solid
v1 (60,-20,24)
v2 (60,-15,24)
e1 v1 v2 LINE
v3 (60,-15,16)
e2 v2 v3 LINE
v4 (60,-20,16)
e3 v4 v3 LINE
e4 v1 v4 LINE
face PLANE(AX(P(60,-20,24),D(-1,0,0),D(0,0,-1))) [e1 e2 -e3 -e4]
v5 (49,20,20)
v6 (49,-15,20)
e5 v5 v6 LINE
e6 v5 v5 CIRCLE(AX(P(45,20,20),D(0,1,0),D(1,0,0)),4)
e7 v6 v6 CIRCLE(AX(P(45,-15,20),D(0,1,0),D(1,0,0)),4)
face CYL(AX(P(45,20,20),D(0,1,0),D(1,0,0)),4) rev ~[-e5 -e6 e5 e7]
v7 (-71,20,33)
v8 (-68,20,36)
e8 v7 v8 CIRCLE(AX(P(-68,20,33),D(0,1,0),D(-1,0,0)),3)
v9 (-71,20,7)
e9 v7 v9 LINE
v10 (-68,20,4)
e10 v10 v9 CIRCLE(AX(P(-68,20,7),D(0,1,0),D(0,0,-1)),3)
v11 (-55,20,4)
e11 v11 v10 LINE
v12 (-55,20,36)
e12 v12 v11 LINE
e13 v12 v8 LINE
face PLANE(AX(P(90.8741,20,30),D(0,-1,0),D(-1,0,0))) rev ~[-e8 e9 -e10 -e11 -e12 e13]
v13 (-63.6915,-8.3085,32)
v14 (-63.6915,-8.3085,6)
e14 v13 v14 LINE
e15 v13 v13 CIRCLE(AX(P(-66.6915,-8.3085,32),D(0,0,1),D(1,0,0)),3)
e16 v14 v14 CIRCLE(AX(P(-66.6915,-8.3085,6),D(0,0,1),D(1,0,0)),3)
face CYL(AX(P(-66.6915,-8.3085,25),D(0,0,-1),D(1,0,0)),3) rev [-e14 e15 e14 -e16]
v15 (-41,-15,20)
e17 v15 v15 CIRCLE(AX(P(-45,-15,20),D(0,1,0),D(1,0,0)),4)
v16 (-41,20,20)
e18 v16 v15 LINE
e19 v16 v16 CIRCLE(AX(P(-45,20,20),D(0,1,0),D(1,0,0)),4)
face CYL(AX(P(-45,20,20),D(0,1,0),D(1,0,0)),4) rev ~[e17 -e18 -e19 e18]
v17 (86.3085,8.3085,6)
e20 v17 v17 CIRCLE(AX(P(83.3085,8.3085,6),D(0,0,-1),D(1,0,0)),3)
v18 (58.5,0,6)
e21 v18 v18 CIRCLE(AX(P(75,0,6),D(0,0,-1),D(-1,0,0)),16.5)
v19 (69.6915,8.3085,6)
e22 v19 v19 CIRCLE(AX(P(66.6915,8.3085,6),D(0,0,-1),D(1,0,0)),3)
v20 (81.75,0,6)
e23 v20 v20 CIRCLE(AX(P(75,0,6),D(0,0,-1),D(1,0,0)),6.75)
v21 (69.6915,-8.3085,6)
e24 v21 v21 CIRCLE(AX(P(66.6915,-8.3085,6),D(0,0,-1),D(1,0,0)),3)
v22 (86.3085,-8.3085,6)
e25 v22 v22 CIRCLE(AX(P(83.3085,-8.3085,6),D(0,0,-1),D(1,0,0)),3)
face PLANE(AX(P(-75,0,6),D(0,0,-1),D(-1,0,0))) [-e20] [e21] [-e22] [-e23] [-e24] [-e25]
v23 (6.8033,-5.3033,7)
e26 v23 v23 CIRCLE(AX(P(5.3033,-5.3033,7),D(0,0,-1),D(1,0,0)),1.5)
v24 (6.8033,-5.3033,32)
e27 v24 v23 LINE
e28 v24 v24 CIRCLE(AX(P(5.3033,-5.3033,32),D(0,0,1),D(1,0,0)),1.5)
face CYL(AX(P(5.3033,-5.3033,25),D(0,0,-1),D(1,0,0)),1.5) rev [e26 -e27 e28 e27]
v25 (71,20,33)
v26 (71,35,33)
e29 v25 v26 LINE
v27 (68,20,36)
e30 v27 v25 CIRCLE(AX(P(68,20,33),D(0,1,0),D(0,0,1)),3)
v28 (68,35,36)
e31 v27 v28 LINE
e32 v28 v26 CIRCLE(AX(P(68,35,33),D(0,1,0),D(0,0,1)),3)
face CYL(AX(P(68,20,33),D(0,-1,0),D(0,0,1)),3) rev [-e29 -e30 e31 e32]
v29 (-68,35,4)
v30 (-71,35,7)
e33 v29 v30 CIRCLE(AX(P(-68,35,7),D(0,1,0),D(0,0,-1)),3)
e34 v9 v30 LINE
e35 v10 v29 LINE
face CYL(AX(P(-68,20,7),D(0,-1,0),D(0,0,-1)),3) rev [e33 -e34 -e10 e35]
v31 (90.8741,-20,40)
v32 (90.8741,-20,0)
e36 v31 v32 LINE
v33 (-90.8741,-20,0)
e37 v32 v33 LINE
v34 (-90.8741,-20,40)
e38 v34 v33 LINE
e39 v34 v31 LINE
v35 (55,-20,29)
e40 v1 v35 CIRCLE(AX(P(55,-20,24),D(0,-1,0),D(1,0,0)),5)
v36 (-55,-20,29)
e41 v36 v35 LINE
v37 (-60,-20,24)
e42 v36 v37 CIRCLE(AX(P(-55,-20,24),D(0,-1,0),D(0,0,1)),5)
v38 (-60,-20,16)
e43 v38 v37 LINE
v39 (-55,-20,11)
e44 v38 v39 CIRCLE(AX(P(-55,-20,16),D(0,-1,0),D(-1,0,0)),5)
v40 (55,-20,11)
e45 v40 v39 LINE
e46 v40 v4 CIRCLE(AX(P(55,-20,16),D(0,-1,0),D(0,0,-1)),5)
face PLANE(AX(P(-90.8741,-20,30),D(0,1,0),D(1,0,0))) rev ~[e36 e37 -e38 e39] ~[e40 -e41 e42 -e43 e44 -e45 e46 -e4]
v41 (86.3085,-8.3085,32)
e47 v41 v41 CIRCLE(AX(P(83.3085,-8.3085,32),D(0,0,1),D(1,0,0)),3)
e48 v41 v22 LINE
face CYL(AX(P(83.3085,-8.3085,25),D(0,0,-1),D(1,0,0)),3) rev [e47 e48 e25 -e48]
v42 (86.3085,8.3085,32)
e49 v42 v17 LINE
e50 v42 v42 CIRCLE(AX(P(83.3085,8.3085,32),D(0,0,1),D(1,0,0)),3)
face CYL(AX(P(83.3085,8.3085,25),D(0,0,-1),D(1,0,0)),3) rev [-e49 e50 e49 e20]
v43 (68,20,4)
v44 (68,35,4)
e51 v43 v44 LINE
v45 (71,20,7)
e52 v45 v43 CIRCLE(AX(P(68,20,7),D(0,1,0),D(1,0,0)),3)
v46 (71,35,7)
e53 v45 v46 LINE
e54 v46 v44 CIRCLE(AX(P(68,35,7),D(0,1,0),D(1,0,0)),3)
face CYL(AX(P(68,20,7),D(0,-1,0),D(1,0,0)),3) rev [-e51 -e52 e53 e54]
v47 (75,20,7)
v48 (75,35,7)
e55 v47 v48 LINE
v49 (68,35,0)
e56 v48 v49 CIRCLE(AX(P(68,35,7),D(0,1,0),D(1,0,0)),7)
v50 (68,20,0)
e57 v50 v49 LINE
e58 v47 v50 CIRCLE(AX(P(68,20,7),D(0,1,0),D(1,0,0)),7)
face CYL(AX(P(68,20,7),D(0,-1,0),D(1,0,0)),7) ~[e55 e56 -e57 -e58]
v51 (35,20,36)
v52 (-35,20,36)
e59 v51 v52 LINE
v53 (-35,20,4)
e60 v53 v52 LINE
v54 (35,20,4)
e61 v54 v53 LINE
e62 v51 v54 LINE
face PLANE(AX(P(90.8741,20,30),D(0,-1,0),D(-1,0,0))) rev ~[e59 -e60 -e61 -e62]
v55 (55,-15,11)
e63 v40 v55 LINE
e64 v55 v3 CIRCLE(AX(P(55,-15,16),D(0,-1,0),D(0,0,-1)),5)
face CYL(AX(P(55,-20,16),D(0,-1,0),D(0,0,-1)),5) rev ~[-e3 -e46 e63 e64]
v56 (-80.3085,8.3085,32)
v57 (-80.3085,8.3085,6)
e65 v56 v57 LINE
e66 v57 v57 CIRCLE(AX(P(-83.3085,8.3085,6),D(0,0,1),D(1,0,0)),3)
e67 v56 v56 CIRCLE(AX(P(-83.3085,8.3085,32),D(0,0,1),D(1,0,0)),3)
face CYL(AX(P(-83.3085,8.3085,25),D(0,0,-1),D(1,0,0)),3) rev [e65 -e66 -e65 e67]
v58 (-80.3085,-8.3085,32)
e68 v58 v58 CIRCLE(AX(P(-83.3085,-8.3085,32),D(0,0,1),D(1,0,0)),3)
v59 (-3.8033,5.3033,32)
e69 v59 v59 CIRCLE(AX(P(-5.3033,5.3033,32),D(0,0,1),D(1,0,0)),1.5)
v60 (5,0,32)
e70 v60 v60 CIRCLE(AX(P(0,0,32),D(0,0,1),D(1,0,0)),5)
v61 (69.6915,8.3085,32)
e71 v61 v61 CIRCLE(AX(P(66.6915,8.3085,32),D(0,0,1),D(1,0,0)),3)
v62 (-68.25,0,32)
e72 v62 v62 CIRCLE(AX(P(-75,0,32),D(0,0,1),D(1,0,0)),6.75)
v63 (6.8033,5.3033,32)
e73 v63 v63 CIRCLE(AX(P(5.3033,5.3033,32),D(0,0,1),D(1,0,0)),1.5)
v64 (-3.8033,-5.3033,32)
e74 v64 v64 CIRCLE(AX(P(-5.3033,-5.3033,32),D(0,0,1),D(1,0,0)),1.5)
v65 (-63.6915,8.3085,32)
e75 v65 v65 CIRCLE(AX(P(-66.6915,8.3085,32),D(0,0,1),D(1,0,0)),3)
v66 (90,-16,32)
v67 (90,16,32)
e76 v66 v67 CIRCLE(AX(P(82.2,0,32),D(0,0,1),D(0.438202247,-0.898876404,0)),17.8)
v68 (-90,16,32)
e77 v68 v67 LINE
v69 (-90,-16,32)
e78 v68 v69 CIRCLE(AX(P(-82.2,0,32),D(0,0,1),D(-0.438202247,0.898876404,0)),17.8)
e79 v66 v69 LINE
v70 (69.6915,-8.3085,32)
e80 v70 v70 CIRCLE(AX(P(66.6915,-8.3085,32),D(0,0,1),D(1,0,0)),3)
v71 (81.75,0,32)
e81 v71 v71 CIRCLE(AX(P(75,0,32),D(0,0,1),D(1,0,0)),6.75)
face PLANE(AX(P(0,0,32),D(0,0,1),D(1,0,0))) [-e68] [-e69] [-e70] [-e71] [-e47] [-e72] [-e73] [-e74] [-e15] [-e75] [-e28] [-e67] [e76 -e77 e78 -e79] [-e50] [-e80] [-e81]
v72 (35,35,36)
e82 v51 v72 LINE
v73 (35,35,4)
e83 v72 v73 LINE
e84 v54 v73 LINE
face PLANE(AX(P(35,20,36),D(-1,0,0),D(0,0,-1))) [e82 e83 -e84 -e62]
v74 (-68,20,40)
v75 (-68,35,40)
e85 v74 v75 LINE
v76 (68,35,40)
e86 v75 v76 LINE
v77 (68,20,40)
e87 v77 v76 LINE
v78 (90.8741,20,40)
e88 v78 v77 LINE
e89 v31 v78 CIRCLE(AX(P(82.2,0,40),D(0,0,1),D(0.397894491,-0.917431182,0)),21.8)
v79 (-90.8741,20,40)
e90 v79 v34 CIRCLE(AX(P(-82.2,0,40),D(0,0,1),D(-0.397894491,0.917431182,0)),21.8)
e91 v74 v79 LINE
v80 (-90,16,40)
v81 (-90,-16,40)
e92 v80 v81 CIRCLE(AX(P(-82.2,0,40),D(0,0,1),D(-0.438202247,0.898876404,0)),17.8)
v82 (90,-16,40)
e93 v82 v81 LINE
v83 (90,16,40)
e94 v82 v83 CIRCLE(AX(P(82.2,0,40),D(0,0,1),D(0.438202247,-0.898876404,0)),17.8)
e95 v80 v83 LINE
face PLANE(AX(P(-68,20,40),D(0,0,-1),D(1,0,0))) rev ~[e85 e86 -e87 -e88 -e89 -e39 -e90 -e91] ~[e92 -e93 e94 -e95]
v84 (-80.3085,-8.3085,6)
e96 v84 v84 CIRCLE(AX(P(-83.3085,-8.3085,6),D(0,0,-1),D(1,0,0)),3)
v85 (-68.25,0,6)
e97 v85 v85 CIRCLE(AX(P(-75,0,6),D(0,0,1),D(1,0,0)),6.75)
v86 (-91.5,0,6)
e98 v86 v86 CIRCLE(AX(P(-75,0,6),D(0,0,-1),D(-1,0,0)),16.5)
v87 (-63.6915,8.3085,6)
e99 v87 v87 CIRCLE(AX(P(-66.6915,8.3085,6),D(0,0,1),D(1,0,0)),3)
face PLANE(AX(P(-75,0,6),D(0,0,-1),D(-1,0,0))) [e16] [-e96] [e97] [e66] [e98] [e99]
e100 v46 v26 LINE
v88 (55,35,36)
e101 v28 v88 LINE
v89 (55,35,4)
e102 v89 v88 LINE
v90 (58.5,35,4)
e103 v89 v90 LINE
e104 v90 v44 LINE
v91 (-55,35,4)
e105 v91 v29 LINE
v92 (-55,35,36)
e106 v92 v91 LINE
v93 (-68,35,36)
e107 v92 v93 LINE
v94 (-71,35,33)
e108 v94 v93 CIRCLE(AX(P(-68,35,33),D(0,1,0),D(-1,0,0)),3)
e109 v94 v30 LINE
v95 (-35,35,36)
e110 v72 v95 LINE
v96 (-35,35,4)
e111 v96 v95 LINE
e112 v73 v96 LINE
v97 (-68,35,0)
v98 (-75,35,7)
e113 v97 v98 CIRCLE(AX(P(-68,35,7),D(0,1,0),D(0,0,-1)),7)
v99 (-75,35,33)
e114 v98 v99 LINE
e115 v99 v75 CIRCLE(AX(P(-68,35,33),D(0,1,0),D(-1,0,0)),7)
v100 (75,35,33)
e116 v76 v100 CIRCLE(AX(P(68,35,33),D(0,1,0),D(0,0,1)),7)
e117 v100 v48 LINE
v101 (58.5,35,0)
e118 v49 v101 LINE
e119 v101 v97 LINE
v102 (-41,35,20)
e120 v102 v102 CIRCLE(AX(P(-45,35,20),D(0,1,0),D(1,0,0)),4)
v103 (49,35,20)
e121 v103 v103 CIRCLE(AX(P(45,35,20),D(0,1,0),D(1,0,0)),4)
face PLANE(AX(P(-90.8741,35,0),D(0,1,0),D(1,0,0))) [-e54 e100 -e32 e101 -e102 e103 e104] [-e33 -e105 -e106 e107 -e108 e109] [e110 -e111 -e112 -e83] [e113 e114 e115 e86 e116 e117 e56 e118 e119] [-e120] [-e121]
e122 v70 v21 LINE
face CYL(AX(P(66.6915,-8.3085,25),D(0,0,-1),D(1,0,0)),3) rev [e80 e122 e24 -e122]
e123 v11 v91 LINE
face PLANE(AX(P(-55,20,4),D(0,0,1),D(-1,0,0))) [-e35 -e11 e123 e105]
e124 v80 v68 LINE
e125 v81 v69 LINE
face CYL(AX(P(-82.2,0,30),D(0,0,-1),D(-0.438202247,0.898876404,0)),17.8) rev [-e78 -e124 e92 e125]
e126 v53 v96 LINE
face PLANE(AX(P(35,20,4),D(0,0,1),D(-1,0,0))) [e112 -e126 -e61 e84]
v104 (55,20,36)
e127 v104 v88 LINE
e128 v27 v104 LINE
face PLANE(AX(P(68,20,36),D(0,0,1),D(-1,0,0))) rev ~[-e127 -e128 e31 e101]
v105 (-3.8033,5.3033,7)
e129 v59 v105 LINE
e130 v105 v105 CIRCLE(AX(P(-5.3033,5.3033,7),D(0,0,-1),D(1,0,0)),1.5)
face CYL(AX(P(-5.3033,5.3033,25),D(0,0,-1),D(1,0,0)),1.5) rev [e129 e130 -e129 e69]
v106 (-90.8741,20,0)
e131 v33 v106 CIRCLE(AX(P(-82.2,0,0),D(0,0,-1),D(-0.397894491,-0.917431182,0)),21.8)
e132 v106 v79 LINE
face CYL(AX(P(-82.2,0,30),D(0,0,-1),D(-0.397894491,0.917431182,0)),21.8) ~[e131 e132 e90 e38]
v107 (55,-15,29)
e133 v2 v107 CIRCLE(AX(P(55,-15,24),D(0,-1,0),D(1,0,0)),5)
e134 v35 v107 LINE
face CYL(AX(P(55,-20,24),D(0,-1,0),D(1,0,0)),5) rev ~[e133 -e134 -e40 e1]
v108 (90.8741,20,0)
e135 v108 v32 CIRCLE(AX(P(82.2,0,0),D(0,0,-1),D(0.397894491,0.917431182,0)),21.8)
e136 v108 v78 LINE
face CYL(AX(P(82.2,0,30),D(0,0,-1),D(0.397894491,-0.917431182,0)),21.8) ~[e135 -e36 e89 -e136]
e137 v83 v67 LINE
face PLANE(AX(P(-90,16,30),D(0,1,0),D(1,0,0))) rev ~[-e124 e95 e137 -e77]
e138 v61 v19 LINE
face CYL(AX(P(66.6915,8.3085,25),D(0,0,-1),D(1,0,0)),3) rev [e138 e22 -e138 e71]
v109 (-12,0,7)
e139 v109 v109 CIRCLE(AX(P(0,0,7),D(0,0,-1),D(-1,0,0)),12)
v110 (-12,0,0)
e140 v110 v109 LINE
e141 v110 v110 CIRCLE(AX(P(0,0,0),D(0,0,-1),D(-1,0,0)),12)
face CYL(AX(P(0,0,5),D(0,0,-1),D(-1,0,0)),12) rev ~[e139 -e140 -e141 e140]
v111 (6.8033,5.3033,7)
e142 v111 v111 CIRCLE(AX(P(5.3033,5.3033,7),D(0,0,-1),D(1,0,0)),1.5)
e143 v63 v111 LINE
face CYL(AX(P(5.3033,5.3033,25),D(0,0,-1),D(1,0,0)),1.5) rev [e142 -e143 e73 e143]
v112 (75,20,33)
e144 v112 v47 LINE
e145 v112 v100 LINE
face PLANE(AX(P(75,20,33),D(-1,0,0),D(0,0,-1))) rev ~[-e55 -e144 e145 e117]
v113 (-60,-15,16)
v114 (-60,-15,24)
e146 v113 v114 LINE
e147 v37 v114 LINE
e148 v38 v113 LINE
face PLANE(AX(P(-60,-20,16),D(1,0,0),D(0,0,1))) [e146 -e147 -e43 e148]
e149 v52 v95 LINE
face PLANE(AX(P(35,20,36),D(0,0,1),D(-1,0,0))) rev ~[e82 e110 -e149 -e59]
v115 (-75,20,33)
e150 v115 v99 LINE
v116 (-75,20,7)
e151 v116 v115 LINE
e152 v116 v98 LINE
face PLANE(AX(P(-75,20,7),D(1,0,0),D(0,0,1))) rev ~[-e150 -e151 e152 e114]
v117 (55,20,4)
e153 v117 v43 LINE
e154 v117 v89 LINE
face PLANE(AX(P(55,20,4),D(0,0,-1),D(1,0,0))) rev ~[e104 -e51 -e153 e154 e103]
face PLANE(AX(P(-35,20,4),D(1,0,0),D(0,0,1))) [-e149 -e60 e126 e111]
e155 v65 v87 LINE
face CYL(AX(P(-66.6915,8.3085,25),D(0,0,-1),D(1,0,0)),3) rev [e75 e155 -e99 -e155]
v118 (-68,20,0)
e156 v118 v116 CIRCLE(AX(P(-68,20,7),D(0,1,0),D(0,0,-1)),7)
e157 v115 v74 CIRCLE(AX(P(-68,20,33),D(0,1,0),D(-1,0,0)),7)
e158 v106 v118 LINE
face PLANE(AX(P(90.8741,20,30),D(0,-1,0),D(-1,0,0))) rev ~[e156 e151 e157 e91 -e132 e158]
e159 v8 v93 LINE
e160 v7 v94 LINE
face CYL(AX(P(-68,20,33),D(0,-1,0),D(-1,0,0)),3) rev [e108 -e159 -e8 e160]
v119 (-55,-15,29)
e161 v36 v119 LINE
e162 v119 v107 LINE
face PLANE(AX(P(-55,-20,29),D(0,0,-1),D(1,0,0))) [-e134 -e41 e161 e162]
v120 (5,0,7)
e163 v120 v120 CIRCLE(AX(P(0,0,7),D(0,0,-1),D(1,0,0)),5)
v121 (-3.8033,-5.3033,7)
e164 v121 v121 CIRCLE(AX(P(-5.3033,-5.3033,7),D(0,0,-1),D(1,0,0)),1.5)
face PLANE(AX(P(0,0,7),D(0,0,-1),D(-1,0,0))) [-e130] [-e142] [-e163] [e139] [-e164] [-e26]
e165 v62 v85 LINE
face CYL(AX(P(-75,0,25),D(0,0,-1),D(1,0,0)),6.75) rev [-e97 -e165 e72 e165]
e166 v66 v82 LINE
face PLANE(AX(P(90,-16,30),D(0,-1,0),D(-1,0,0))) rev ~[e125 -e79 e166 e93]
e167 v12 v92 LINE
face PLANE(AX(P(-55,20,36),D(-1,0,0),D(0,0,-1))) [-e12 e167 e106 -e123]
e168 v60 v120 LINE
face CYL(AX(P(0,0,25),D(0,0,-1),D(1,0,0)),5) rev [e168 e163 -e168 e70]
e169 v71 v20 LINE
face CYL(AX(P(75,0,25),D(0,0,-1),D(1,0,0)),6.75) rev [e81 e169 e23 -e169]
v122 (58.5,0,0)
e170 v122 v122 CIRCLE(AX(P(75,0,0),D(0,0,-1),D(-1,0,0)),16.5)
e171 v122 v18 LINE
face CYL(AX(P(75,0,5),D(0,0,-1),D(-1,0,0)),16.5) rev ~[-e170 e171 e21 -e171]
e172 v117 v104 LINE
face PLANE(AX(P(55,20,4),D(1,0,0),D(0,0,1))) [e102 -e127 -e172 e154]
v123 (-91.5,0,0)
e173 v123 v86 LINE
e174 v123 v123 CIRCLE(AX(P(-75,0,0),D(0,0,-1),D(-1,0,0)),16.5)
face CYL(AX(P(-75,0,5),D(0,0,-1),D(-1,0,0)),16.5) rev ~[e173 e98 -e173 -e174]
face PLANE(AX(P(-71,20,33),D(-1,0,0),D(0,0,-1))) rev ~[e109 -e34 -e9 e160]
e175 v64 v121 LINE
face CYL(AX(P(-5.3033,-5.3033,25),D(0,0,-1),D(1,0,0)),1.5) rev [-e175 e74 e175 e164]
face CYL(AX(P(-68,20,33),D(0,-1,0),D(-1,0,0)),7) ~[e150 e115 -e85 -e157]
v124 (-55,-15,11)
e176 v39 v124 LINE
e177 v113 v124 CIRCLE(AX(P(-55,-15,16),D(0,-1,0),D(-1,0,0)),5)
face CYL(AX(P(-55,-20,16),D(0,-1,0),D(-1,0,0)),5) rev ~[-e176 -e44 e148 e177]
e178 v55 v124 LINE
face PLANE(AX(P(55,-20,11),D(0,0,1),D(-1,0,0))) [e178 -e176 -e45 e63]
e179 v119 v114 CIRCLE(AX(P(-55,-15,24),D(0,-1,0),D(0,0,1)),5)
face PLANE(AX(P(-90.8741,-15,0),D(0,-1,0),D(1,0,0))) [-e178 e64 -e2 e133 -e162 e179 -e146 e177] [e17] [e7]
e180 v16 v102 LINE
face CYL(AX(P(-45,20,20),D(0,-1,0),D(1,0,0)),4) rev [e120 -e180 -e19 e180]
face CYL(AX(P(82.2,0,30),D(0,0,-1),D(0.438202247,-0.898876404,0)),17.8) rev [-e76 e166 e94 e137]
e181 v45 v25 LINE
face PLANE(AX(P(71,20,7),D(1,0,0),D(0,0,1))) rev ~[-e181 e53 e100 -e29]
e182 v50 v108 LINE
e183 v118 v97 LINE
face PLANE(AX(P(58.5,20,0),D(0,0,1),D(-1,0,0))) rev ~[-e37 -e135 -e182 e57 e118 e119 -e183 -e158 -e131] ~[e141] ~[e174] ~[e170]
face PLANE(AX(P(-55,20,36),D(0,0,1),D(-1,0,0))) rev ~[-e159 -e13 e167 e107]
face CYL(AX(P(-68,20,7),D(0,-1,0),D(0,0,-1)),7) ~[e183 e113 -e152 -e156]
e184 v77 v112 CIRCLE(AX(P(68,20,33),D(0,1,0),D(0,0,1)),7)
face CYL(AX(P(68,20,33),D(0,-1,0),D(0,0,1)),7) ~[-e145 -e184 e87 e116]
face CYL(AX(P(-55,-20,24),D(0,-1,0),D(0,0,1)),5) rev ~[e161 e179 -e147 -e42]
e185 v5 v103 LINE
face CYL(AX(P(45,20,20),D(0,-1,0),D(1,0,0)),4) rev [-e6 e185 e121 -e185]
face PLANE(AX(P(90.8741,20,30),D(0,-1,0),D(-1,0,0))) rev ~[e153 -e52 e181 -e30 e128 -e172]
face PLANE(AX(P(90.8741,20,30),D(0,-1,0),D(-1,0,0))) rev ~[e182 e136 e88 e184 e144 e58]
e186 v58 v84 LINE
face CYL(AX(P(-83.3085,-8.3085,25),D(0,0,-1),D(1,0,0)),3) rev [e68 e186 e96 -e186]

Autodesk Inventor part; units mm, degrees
ref_plane "YZ Plane" through (0, 0, 0) normal (1, 0, 0) x (0, 1, 0)
ref_plane "XZ Plane" through (0, 0, 0) normal (0, 1, 0) x (-1, 0, 0)
ref_plane "XY Plane" through (0, 0, 0) normal (0, 0, 1) x (1, 0, 0)
sketch "Sketch1" plane through (0, 0, 0) normal (0, 0, 1) x (1, 0, 0)
  circle A0 centre (75, 0) radius 15.85 construction
  circle A1 centre (66.6915, 8.3085) radius 3
  circle A2 centre (83.3085, -8.3085) radius 3
  circle A3 centre (66.6915, -8.3085) radius 3
  circle A4 centre (83.3085, 8.3085) radius 3
  circle A5 centre (75, 0) radius 6.75
  circle A6 centre (-75, 0) radius 15.85 construction
  circle A7 centre (-83.3085, 8.3085) radius 3
  circle A8 centre (-66.6915, -8.3085) radius 3
  circle A9 centre (-83.3085, -8.3085) radius 3
  circle A10 centre (-66.6915, 8.3085) radius 3
  circle A11 centre (-75, 0) radius 6.75
  circle A12 centre (5.3033, -5.3033) radius 1.5
  circle A13 centre (-5.3033, 5.3033) radius 1.5
  circle A14 centre (-5.3033, -5.3033) radius 1.5
  circle A15 centre (5.3033, 5.3033) radius 1.5
  circle A16 centre (0, 0) radius 10.75 construction
  circle A17 centre (0, 0) radius 5
  line L0 (100, -16) -> (-100, -16) construction
  line L1 (-100, -16) -> (-100, 16) construction
  line L2 (-100, 16) -> (100, 16) construction
  line L3 (100, 16) -> (100, -16) construction
  line L4 (100, -16) -> (-100, 16) construction
  line L5 (-100, -16) -> (100, 16) construction
  line L6 (0, 16) -> (-90, 16)
  line L7 (0, -16) -> (-90, -16)
  arc A18 (-90, 16) -> (-90, -16) centre (-82.2, 0) ccw
  line L8 (0, 16) -> (90, 16)
  line L9 (0, -16) -> (90, -16)
  arc A19 (90, -16) -> (90, 16) centre (82.2, 0) ccw
  point P0 (0, 0)
  point P1 (75, 0)
  point P2 (-75, 0)
  dimension "d4" = 10
  dimension "d5" = 75
  dimension "d6" = 75
  dimension "d7" = 200
  dimension "d8" = 32
  dimension "d9" = 90
  dimension "d10" = 90
  dimension "d11" = 90
  dimension "d12" = 90
extrude "Extrusion1" add sketch "Sketch1" along normal blind 30
sketch "Sketch2" plane through (0, 0, 0) normal (0, 0, -1) x (-1, 0, 0)
  circle A0 centre (75, 0) radius 6.75 construction
  circle A1 centre (-75, 0) radius 6.75 construction
  circle A2 centre (0, 0) radius 5 construction
  circle A3 centre (66.6915, 8.3085) radius 3 construction
  circle A4 centre (83.3085, -8.3085) radius 3 construction
  circle A5 centre (66.6915, -8.3085) radius 3 construction
  circle A6 centre (83.3085, 8.3085) radius 3 construction
  circle A7 centre (-83.3085, 8.3085) radius 3 construction
  circle A8 centre (-66.6915, -8.3085) radius 3 construction
  circle A9 centre (-83.3085, -8.3085) radius 3 construction
  circle A10 centre (-66.6915, 8.3085) radius 3 construction
  circle A11 centre (-5.3033, 5.3033) radius 1.5 construction
  circle A12 centre (5.3033, -5.3033) radius 1.5 construction
  circle A13 centre (5.3033, 5.3033) radius 1.5 construction
  circle A14 centre (-5.3033, -5.3033) radius 1.5 construction
  line L0 (-90, 16) -> (90, 16) projected
  arc A15 (-90, 16) -> (-90, -16) centre (-82.2, 0) ccw projected
  line L1 (90, -16) -> (-90, -16) projected
  arc A16 (90, -16) -> (90, 16) centre (82.2, 0) ccw projected
  line L2 (90.8741, 20) -> (-90.8741, 20)
  arc A17 (-90.8741, 20) -> (-90.8741, -20) centre (-82.2, 0) ccw
  line L3 (-90.8741, -20) -> (90.8741, -20)
  arc A18 (90.8741, -20) -> (90.8741, 20) centre (82.2, 0) ccw
  dimension "d15" = 4
extrude "Extrusion2" add sketch "Sketch2" against normal blind 30
sketch "Sketch3" plane through (0, 0, 0) normal (0, 0, -1) x (-1, 0, 0)
  line L0 (90.8741, 20) -> (-90.8741, 20) construction
  arc A0 (-90.8741, 20) -> (-90.8741, -20) centre (-82.2, 0) ccw construction
  line L1 (-90.8741, -20) -> (90.8741, -20) construction
  arc A1 (90.8741, -20) -> (90.8741, 20) centre (82.2, 0) ccw construction
  circle A2 centre (75, 0) radius 6.75 construction
  circle A3 centre (-75, 0) radius 6.75 construction
  circle A4 centre (0, 0) radius 5 construction
  circle A5 centre (66.6915, 8.3085) radius 3 construction
  circle A6 centre (83.3085, -8.3085) radius 3 construction
  circle A7 centre (66.6915, -8.3085) radius 3 construction
  circle A8 centre (83.3085, 8.3085) radius 3 construction
  circle A9 centre (-83.3085, 8.3085) radius 3 construction
  circle A10 centre (-66.6915, -8.3085) radius 3 construction
  circle A11 centre (-83.3085, -8.3085) radius 3 construction
  circle A12 centre (-66.6915, 8.3085) radius 3 construction
  circle A13 centre (-5.3033, 5.3033) radius 1.5 construction
  circle A14 centre (5.3033, -5.3033) radius 1.5 construction
  circle A15 centre (5.3033, 5.3033) radius 1.5 construction
  circle A16 centre (-5.3033, -5.3033) radius 1.5 construction
  circle A17 centre (0, 0) radius 12
  circle A18 centre (-75, 0) radius 16.5
  circle A19 centre (75, 0) radius 16.5
  dimension "d18" = 24
  dimension "d19" = 33
  dimension "d20" = 33
extrude "Extrusion3" cut sketch "Sketch3" against normal blind 5
sketch "Sketch4" plane through (0, 0, 30) normal (0, 0, 1) x (1, 0, 0)
  line L0 (90.8741, 20) -> (-90.8741, 20) construction
  arc A0 (-90.8741, 20) -> (-90.8741, -20) centre (-82.2, 0) ccw construction
  line L1 (-90.8741, -20) -> (90.8741, -20) construction
  arc A1 (90.8741, -20) -> (90.8741, 20) centre (82.2, 0) ccw construction
  circle A2 centre (-75, 0) radius 6.75 construction
  circle A3 centre (75, 0) radius 6.75 construction
  circle A4 centre (0, 0) radius 5 construction
  circle A5 centre (-66.6915, 8.3085) radius 3 construction
  circle A6 centre (-83.3085, -8.3085) radius 3 construction
  circle A7 centre (-66.6915, -8.3085) radius 3 construction
  circle A8 centre (-83.3085, 8.3085) radius 3 construction
  circle A9 centre (83.3085, 8.3085) radius 3 construction
  circle A10 centre (66.6915, -8.3085) radius 3 construction
  circle A11 centre (83.3085, -8.3085) radius 3 construction
  circle A12 centre (66.6915, 8.3085) radius 3 construction
  circle A13 centre (5.3033, 5.3033) radius 1.5 construction
  circle A14 centre (-5.3033, -5.3033) radius 1.5 construction
  circle A15 centre (-5.3033, 5.3033) radius 1.5 construction
  circle A16 centre (5.3033, -5.3033) radius 1.5 construction
  line L2 (90, -16) -> (-90, -16)
  arc A17 (-90, 16) -> (-90, -16) centre (-82.2, 0) ccw
  line L3 (-90, 16) -> (90, 16)
  arc A18 (90, -16) -> (90, 16) centre (82.2, 0) ccw
  dimension "d23" = 4
extrude "Extrusion4" cut sketch "Sketch4" against normal blind 5
sketch "Sketch5" plane through (0, 0, 5) normal (0, 0, -1) x (-1, 0, 0)
  circle A0 centre (0, 0) radius 5 projected
  circle A1 centre (-5.3033, 5.3033) radius 1.5 projected
  circle A2 centre (5.3033, -5.3033) radius 1.5 projected
  circle A3 centre (5.3033, 5.3033) radius 1.5 projected
  circle A4 centre (-5.3033, -5.3033) radius 1.5 projected
  circle A5 centre (0, 0) radius 12 projected
extrude "Extrusion5" cut sketch "Sketch5" against normal blind 2
sketch "Sketch6" plane through (-75, 0, 5) normal (0, 0, -1) x (-1, 0, 0)
  circle A0 centre (0, 0) radius 6.75 projected
  circle A1 centre (-8.3085, 8.3085) radius 3 projected
  circle A2 centre (8.3085, -8.3085) radius 3 projected
  circle A3 centre (-8.3085, -8.3085) radius 3 projected
  circle A4 centre (8.3085, 8.3085) radius 3 projected
  circle A5 centre (0, 0) radius 16.5 projected
  circle A6 centre (-150, 0) radius 6.75 projected
  circle A7 centre (-158.3085, 8.3085) radius 3 projected
  circle A8 centre (-141.6915, -8.3085) radius 3 projected
  circle A9 centre (-158.3085, -8.3085) radius 3 projected
  circle A10 centre (-141.6915, 8.3085) radius 3 projected
  circle A11 centre (-150, 0) radius 16.5 projected
  point P0 (-75, 0)
extrude "Extrusion6" cut sketch "Sketch6" against normal blind 1
sketch "Sketch7" plane through (0, 0, 30) normal (0, 0, 1) x (1, 0, 0)
  arc A0 (90, -16) -> (90, 16) centre (82.2, 0) ccw projected
  line L0 (90, -16) -> (-90, -16) projected
  arc A1 (-90, 16) -> (-90, -16) centre (-82.2, 0) ccw projected
  line L1 (-90, 16) -> (90, 16) projected
  line L2 (90.8741, 20) -> (-90.8741, 20) projected
  arc A2 (-90.8741, 20) -> (-90.8741, -20) centre (-82.2, 0) ccw projected
  line L3 (-90.8741, -20) -> (90.8741, -20) projected
  arc A3 (90.8741, -20) -> (90.8741, 20) centre (82.2, 0) ccw projected
  point P0 (0, 0)
extrude "Extrusion7" add sketch "Sketch7" along normal blind 10
sketch "Sketch8" plane through (0, 0, 25) normal (0, 0, 1) x (1, 0, 0)
  circle A0 centre (-75, 0) radius 6.75 projected
  circle A1 centre (75, 0) radius 6.75 projected
  circle A2 centre (0, 0) radius 5 projected
  circle A3 centre (-66.6915, 8.3085) radius 3 projected
  circle A4 centre (-83.3085, -8.3085) radius 3 projected
  circle A5 centre (-66.6915, -8.3085) radius 3 projected
  circle A6 centre (-83.3085, 8.3085) radius 3 projected
  circle A7 centre (83.3085, 8.3085) radius 3 projected
  circle A8 centre (66.6915, -8.3085) radius 3 projected
  circle A9 centre (83.3085, -8.3085) radius 3 projected
  circle A10 centre (66.6915, 8.3085) radius 3 projected
  circle A11 centre (5.3033, 5.3033) radius 1.5 projected
  circle A12 centre (-5.3033, -5.3033) radius 1.5 projected
  circle A13 centre (-5.3033, 5.3033) radius 1.5 projected
  circle A14 centre (5.3033, -5.3033) radius 1.5 projected
  line L0 (90, -16) -> (-90, -16) projected
  arc A15 (90, -16) -> (90, 16) centre (82.2, 0) ccw projected
  line L1 (-90, 16) -> (90, 16) projected
  arc A16 (-90, 16) -> (-90, -16) centre (-82.2, 0) ccw projected
extrude "Extrusion8" add sketch "Sketch8" along normal blind 7
sketch "Sketch10" plane through (-90.8741, 20, 0) normal (0, 1, 0) x (1, 0, 0)
  circle A0 centre (135.8741, -20) radius 4
  circle A1 centre (150.8741, -20) radius 4 construction
  circle A2 centre (30.8741, -20) radius 4 construction
  circle A3 centre (45.8741, -20) radius 4
  arc A4 (15.8741, -33) -> (22.8741, -40) centre (22.8741, -33) ccw
  line L0 (22.8741, -40) -> (158.8741, -40)
  arc A5 (158.8741, -40) -> (165.8741, -33) centre (158.8741, -33) ccw
  line L1 (165.8741, -33) -> (165.8741, -7)
  arc A6 (165.8741, -7) -> (158.8741, 0) centre (158.8741, -7) ccw
  line L2 (158.8741, 0) -> (22.8741, 0)
  arc A7 (22.8741, 0) -> (15.8741, -7) centre (22.8741, -7) ccw
  line L3 (15.8741, -7) -> (15.8741, -33)
  line L4 (0, 0) -> (181.7482, 0) construction
  line L5 (0, 0) -> (0, -40) construction
  line L6 (181.7482, -40) -> (0, -40) construction
  line L7 (181.7482, 0) -> (181.7482, -40) construction
  line L8 (180.8741, -40) -> (0.8741, -40) construction
  line L9 (90.8741, -40) -> (90.8741, 0) construction
  line L10 (90.8741, 0) -> (90.8741, -40) construction
  line L11 (161.8741, -7) -> (161.8741, -33)
  arc A8 (158.8741, -36) -> (161.8741, -33) centre (158.8741, -33) ccw
  arc A9 (19.8741, -33) -> (22.8741, -36) centre (22.8741, -33) ccw
  line L12 (19.8741, -33) -> (19.8741, -7)
  arc A10 (22.8741, -4) -> (19.8741, -7) centre (22.8741, -7) ccw
  arc A11 (161.8741, -7) -> (158.8741, -4) centre (158.8741, -7) ccw
  line L13 (135.8741, -20) -> (135.8741, -36) construction
  line L14 (135.8741, -20) -> (135.8741, -4) construction
  line L15 (45.8741, -20) -> (45.8741, -36) construction
  line L16 (45.8741, -20) -> (45.8741, -4) construction
  line L17 (145.8741, -4) -> (145.8741, -36)
  line L18 (125.8741, -36) -> (125.8741, -4)
  line L19 (125.8741, -4) -> (145.8741, -36) construction
  line L20 (145.8741, -4) -> (125.8741, -36) construction
  line L21 (55.8741, -4) -> (55.8741, -36)
  line L22 (35.8741, -36) -> (35.8741, -4)
  line L23 (35.8741, -4) -> (55.8741, -36) construction
  line L24 (55.8741, -4) -> (35.8741, -36) construction
  line L25 (158.8741, -36) -> (145.8741, -36)
  line L26 (125.8741, -36) -> (55.8741, -36)
  line L27 (145.8741, -4) -> (158.8741, -4)
  line L28 (149.3741, 0) -> (149.3741, -6) projected
  line L29 (125.8741, -4) -> (55.8741, -4)
  line L30 (35.8741, -4) -> (22.8741, -4)
  line L31 (35.8741, -36) -> (22.8741, -36)
  line L32 (35.8741, -4) -> (35.8741, -36)
  line L33 (35.8741, -36) -> (22.8741, -36)
  arc A12 (19.8741, -33) -> (22.8741, -36) centre (22.8741, -33) ccw
  line L34 (19.8741, -33) -> (19.8741, -7)
  arc A13 (22.8741, -4) -> (19.8741, -7) centre (22.8741, -7) ccw
  line L35 (22.8741, -4) -> (35.8741, -4)
  point P0 (20, -7)
  dimension "d47" = 4
  dimension "d48" = 20
  dimension "d49" = 20
extrude "Extrusion11" add sketch "Sketch10" along normal blind 15
sketch "Sketch11" plane through (-45, 20, 20) normal (0, 1, 0) x (1, 0, 0)
  circle A0 centre (0, 0) radius 4 projected
  circle A1 centre (90, 0) radius 4 projected
  point P0 (45, 20)
extrude "Extrusion12" cut sketch "Sketch11" against normal blind 85
sketch "Sketch12" plane through (-90.8741, -20, 0) normal (0, -1, 0) x (1, 0, 0)
  circle A0 centre (45.8741, 20) radius 4 construction
  circle A1 centre (135.8741, 20) radius 4 construction
  line L0 (181.7482, 0) -> (0, 0) construction
  line L1 (181.7482, 0) -> (181.7482, 40) construction
  line L2 (0, 40) -> (181.7482, 40) construction
  line L3 (0, 0) -> (0, 40) construction
  line L4 (90.8741, 0) -> (90.8741, 40) construction
  line L5 (0, 0) -> (0, 40) construction
  line L6 (0, 20) -> (181.7482, 20) construction
  line L7 (145.8741, 11) -> (35.8741, 11)
  line L8 (30.8741, 16) -> (30.8741, 24)
  line L9 (35.8741, 29) -> (145.8741, 29)
  line L10 (150.8741, 24) -> (150.8741, 16)
  line L11 (150.8741, 11) -> (30.8741, 29) construction
  line L12 (30.8741, 11) -> (150.8741, 29) construction
  arc A2 (35.8741, 29) -> (30.8741, 24) centre (35.8741, 24) ccw
  arc A3 (30.8741, 16) -> (35.8741, 11) centre (35.8741, 16) ccw
  arc A4 (150.8741, 24) -> (145.8741, 29) centre (145.8741, 24) ccw
  arc A5 (145.8741, 11) -> (150.8741, 16) centre (145.8741, 16) ccw
  point P0 (90.8741, 20)
  dimension "d54" = 120
  dimension "d55" = 18
  dimension "d56" = 5
extrude "Extrusion13" cut sketch "Sketch12" against normal blind 5
properties part number "Corredera" material "PC/ABS Plastic"
